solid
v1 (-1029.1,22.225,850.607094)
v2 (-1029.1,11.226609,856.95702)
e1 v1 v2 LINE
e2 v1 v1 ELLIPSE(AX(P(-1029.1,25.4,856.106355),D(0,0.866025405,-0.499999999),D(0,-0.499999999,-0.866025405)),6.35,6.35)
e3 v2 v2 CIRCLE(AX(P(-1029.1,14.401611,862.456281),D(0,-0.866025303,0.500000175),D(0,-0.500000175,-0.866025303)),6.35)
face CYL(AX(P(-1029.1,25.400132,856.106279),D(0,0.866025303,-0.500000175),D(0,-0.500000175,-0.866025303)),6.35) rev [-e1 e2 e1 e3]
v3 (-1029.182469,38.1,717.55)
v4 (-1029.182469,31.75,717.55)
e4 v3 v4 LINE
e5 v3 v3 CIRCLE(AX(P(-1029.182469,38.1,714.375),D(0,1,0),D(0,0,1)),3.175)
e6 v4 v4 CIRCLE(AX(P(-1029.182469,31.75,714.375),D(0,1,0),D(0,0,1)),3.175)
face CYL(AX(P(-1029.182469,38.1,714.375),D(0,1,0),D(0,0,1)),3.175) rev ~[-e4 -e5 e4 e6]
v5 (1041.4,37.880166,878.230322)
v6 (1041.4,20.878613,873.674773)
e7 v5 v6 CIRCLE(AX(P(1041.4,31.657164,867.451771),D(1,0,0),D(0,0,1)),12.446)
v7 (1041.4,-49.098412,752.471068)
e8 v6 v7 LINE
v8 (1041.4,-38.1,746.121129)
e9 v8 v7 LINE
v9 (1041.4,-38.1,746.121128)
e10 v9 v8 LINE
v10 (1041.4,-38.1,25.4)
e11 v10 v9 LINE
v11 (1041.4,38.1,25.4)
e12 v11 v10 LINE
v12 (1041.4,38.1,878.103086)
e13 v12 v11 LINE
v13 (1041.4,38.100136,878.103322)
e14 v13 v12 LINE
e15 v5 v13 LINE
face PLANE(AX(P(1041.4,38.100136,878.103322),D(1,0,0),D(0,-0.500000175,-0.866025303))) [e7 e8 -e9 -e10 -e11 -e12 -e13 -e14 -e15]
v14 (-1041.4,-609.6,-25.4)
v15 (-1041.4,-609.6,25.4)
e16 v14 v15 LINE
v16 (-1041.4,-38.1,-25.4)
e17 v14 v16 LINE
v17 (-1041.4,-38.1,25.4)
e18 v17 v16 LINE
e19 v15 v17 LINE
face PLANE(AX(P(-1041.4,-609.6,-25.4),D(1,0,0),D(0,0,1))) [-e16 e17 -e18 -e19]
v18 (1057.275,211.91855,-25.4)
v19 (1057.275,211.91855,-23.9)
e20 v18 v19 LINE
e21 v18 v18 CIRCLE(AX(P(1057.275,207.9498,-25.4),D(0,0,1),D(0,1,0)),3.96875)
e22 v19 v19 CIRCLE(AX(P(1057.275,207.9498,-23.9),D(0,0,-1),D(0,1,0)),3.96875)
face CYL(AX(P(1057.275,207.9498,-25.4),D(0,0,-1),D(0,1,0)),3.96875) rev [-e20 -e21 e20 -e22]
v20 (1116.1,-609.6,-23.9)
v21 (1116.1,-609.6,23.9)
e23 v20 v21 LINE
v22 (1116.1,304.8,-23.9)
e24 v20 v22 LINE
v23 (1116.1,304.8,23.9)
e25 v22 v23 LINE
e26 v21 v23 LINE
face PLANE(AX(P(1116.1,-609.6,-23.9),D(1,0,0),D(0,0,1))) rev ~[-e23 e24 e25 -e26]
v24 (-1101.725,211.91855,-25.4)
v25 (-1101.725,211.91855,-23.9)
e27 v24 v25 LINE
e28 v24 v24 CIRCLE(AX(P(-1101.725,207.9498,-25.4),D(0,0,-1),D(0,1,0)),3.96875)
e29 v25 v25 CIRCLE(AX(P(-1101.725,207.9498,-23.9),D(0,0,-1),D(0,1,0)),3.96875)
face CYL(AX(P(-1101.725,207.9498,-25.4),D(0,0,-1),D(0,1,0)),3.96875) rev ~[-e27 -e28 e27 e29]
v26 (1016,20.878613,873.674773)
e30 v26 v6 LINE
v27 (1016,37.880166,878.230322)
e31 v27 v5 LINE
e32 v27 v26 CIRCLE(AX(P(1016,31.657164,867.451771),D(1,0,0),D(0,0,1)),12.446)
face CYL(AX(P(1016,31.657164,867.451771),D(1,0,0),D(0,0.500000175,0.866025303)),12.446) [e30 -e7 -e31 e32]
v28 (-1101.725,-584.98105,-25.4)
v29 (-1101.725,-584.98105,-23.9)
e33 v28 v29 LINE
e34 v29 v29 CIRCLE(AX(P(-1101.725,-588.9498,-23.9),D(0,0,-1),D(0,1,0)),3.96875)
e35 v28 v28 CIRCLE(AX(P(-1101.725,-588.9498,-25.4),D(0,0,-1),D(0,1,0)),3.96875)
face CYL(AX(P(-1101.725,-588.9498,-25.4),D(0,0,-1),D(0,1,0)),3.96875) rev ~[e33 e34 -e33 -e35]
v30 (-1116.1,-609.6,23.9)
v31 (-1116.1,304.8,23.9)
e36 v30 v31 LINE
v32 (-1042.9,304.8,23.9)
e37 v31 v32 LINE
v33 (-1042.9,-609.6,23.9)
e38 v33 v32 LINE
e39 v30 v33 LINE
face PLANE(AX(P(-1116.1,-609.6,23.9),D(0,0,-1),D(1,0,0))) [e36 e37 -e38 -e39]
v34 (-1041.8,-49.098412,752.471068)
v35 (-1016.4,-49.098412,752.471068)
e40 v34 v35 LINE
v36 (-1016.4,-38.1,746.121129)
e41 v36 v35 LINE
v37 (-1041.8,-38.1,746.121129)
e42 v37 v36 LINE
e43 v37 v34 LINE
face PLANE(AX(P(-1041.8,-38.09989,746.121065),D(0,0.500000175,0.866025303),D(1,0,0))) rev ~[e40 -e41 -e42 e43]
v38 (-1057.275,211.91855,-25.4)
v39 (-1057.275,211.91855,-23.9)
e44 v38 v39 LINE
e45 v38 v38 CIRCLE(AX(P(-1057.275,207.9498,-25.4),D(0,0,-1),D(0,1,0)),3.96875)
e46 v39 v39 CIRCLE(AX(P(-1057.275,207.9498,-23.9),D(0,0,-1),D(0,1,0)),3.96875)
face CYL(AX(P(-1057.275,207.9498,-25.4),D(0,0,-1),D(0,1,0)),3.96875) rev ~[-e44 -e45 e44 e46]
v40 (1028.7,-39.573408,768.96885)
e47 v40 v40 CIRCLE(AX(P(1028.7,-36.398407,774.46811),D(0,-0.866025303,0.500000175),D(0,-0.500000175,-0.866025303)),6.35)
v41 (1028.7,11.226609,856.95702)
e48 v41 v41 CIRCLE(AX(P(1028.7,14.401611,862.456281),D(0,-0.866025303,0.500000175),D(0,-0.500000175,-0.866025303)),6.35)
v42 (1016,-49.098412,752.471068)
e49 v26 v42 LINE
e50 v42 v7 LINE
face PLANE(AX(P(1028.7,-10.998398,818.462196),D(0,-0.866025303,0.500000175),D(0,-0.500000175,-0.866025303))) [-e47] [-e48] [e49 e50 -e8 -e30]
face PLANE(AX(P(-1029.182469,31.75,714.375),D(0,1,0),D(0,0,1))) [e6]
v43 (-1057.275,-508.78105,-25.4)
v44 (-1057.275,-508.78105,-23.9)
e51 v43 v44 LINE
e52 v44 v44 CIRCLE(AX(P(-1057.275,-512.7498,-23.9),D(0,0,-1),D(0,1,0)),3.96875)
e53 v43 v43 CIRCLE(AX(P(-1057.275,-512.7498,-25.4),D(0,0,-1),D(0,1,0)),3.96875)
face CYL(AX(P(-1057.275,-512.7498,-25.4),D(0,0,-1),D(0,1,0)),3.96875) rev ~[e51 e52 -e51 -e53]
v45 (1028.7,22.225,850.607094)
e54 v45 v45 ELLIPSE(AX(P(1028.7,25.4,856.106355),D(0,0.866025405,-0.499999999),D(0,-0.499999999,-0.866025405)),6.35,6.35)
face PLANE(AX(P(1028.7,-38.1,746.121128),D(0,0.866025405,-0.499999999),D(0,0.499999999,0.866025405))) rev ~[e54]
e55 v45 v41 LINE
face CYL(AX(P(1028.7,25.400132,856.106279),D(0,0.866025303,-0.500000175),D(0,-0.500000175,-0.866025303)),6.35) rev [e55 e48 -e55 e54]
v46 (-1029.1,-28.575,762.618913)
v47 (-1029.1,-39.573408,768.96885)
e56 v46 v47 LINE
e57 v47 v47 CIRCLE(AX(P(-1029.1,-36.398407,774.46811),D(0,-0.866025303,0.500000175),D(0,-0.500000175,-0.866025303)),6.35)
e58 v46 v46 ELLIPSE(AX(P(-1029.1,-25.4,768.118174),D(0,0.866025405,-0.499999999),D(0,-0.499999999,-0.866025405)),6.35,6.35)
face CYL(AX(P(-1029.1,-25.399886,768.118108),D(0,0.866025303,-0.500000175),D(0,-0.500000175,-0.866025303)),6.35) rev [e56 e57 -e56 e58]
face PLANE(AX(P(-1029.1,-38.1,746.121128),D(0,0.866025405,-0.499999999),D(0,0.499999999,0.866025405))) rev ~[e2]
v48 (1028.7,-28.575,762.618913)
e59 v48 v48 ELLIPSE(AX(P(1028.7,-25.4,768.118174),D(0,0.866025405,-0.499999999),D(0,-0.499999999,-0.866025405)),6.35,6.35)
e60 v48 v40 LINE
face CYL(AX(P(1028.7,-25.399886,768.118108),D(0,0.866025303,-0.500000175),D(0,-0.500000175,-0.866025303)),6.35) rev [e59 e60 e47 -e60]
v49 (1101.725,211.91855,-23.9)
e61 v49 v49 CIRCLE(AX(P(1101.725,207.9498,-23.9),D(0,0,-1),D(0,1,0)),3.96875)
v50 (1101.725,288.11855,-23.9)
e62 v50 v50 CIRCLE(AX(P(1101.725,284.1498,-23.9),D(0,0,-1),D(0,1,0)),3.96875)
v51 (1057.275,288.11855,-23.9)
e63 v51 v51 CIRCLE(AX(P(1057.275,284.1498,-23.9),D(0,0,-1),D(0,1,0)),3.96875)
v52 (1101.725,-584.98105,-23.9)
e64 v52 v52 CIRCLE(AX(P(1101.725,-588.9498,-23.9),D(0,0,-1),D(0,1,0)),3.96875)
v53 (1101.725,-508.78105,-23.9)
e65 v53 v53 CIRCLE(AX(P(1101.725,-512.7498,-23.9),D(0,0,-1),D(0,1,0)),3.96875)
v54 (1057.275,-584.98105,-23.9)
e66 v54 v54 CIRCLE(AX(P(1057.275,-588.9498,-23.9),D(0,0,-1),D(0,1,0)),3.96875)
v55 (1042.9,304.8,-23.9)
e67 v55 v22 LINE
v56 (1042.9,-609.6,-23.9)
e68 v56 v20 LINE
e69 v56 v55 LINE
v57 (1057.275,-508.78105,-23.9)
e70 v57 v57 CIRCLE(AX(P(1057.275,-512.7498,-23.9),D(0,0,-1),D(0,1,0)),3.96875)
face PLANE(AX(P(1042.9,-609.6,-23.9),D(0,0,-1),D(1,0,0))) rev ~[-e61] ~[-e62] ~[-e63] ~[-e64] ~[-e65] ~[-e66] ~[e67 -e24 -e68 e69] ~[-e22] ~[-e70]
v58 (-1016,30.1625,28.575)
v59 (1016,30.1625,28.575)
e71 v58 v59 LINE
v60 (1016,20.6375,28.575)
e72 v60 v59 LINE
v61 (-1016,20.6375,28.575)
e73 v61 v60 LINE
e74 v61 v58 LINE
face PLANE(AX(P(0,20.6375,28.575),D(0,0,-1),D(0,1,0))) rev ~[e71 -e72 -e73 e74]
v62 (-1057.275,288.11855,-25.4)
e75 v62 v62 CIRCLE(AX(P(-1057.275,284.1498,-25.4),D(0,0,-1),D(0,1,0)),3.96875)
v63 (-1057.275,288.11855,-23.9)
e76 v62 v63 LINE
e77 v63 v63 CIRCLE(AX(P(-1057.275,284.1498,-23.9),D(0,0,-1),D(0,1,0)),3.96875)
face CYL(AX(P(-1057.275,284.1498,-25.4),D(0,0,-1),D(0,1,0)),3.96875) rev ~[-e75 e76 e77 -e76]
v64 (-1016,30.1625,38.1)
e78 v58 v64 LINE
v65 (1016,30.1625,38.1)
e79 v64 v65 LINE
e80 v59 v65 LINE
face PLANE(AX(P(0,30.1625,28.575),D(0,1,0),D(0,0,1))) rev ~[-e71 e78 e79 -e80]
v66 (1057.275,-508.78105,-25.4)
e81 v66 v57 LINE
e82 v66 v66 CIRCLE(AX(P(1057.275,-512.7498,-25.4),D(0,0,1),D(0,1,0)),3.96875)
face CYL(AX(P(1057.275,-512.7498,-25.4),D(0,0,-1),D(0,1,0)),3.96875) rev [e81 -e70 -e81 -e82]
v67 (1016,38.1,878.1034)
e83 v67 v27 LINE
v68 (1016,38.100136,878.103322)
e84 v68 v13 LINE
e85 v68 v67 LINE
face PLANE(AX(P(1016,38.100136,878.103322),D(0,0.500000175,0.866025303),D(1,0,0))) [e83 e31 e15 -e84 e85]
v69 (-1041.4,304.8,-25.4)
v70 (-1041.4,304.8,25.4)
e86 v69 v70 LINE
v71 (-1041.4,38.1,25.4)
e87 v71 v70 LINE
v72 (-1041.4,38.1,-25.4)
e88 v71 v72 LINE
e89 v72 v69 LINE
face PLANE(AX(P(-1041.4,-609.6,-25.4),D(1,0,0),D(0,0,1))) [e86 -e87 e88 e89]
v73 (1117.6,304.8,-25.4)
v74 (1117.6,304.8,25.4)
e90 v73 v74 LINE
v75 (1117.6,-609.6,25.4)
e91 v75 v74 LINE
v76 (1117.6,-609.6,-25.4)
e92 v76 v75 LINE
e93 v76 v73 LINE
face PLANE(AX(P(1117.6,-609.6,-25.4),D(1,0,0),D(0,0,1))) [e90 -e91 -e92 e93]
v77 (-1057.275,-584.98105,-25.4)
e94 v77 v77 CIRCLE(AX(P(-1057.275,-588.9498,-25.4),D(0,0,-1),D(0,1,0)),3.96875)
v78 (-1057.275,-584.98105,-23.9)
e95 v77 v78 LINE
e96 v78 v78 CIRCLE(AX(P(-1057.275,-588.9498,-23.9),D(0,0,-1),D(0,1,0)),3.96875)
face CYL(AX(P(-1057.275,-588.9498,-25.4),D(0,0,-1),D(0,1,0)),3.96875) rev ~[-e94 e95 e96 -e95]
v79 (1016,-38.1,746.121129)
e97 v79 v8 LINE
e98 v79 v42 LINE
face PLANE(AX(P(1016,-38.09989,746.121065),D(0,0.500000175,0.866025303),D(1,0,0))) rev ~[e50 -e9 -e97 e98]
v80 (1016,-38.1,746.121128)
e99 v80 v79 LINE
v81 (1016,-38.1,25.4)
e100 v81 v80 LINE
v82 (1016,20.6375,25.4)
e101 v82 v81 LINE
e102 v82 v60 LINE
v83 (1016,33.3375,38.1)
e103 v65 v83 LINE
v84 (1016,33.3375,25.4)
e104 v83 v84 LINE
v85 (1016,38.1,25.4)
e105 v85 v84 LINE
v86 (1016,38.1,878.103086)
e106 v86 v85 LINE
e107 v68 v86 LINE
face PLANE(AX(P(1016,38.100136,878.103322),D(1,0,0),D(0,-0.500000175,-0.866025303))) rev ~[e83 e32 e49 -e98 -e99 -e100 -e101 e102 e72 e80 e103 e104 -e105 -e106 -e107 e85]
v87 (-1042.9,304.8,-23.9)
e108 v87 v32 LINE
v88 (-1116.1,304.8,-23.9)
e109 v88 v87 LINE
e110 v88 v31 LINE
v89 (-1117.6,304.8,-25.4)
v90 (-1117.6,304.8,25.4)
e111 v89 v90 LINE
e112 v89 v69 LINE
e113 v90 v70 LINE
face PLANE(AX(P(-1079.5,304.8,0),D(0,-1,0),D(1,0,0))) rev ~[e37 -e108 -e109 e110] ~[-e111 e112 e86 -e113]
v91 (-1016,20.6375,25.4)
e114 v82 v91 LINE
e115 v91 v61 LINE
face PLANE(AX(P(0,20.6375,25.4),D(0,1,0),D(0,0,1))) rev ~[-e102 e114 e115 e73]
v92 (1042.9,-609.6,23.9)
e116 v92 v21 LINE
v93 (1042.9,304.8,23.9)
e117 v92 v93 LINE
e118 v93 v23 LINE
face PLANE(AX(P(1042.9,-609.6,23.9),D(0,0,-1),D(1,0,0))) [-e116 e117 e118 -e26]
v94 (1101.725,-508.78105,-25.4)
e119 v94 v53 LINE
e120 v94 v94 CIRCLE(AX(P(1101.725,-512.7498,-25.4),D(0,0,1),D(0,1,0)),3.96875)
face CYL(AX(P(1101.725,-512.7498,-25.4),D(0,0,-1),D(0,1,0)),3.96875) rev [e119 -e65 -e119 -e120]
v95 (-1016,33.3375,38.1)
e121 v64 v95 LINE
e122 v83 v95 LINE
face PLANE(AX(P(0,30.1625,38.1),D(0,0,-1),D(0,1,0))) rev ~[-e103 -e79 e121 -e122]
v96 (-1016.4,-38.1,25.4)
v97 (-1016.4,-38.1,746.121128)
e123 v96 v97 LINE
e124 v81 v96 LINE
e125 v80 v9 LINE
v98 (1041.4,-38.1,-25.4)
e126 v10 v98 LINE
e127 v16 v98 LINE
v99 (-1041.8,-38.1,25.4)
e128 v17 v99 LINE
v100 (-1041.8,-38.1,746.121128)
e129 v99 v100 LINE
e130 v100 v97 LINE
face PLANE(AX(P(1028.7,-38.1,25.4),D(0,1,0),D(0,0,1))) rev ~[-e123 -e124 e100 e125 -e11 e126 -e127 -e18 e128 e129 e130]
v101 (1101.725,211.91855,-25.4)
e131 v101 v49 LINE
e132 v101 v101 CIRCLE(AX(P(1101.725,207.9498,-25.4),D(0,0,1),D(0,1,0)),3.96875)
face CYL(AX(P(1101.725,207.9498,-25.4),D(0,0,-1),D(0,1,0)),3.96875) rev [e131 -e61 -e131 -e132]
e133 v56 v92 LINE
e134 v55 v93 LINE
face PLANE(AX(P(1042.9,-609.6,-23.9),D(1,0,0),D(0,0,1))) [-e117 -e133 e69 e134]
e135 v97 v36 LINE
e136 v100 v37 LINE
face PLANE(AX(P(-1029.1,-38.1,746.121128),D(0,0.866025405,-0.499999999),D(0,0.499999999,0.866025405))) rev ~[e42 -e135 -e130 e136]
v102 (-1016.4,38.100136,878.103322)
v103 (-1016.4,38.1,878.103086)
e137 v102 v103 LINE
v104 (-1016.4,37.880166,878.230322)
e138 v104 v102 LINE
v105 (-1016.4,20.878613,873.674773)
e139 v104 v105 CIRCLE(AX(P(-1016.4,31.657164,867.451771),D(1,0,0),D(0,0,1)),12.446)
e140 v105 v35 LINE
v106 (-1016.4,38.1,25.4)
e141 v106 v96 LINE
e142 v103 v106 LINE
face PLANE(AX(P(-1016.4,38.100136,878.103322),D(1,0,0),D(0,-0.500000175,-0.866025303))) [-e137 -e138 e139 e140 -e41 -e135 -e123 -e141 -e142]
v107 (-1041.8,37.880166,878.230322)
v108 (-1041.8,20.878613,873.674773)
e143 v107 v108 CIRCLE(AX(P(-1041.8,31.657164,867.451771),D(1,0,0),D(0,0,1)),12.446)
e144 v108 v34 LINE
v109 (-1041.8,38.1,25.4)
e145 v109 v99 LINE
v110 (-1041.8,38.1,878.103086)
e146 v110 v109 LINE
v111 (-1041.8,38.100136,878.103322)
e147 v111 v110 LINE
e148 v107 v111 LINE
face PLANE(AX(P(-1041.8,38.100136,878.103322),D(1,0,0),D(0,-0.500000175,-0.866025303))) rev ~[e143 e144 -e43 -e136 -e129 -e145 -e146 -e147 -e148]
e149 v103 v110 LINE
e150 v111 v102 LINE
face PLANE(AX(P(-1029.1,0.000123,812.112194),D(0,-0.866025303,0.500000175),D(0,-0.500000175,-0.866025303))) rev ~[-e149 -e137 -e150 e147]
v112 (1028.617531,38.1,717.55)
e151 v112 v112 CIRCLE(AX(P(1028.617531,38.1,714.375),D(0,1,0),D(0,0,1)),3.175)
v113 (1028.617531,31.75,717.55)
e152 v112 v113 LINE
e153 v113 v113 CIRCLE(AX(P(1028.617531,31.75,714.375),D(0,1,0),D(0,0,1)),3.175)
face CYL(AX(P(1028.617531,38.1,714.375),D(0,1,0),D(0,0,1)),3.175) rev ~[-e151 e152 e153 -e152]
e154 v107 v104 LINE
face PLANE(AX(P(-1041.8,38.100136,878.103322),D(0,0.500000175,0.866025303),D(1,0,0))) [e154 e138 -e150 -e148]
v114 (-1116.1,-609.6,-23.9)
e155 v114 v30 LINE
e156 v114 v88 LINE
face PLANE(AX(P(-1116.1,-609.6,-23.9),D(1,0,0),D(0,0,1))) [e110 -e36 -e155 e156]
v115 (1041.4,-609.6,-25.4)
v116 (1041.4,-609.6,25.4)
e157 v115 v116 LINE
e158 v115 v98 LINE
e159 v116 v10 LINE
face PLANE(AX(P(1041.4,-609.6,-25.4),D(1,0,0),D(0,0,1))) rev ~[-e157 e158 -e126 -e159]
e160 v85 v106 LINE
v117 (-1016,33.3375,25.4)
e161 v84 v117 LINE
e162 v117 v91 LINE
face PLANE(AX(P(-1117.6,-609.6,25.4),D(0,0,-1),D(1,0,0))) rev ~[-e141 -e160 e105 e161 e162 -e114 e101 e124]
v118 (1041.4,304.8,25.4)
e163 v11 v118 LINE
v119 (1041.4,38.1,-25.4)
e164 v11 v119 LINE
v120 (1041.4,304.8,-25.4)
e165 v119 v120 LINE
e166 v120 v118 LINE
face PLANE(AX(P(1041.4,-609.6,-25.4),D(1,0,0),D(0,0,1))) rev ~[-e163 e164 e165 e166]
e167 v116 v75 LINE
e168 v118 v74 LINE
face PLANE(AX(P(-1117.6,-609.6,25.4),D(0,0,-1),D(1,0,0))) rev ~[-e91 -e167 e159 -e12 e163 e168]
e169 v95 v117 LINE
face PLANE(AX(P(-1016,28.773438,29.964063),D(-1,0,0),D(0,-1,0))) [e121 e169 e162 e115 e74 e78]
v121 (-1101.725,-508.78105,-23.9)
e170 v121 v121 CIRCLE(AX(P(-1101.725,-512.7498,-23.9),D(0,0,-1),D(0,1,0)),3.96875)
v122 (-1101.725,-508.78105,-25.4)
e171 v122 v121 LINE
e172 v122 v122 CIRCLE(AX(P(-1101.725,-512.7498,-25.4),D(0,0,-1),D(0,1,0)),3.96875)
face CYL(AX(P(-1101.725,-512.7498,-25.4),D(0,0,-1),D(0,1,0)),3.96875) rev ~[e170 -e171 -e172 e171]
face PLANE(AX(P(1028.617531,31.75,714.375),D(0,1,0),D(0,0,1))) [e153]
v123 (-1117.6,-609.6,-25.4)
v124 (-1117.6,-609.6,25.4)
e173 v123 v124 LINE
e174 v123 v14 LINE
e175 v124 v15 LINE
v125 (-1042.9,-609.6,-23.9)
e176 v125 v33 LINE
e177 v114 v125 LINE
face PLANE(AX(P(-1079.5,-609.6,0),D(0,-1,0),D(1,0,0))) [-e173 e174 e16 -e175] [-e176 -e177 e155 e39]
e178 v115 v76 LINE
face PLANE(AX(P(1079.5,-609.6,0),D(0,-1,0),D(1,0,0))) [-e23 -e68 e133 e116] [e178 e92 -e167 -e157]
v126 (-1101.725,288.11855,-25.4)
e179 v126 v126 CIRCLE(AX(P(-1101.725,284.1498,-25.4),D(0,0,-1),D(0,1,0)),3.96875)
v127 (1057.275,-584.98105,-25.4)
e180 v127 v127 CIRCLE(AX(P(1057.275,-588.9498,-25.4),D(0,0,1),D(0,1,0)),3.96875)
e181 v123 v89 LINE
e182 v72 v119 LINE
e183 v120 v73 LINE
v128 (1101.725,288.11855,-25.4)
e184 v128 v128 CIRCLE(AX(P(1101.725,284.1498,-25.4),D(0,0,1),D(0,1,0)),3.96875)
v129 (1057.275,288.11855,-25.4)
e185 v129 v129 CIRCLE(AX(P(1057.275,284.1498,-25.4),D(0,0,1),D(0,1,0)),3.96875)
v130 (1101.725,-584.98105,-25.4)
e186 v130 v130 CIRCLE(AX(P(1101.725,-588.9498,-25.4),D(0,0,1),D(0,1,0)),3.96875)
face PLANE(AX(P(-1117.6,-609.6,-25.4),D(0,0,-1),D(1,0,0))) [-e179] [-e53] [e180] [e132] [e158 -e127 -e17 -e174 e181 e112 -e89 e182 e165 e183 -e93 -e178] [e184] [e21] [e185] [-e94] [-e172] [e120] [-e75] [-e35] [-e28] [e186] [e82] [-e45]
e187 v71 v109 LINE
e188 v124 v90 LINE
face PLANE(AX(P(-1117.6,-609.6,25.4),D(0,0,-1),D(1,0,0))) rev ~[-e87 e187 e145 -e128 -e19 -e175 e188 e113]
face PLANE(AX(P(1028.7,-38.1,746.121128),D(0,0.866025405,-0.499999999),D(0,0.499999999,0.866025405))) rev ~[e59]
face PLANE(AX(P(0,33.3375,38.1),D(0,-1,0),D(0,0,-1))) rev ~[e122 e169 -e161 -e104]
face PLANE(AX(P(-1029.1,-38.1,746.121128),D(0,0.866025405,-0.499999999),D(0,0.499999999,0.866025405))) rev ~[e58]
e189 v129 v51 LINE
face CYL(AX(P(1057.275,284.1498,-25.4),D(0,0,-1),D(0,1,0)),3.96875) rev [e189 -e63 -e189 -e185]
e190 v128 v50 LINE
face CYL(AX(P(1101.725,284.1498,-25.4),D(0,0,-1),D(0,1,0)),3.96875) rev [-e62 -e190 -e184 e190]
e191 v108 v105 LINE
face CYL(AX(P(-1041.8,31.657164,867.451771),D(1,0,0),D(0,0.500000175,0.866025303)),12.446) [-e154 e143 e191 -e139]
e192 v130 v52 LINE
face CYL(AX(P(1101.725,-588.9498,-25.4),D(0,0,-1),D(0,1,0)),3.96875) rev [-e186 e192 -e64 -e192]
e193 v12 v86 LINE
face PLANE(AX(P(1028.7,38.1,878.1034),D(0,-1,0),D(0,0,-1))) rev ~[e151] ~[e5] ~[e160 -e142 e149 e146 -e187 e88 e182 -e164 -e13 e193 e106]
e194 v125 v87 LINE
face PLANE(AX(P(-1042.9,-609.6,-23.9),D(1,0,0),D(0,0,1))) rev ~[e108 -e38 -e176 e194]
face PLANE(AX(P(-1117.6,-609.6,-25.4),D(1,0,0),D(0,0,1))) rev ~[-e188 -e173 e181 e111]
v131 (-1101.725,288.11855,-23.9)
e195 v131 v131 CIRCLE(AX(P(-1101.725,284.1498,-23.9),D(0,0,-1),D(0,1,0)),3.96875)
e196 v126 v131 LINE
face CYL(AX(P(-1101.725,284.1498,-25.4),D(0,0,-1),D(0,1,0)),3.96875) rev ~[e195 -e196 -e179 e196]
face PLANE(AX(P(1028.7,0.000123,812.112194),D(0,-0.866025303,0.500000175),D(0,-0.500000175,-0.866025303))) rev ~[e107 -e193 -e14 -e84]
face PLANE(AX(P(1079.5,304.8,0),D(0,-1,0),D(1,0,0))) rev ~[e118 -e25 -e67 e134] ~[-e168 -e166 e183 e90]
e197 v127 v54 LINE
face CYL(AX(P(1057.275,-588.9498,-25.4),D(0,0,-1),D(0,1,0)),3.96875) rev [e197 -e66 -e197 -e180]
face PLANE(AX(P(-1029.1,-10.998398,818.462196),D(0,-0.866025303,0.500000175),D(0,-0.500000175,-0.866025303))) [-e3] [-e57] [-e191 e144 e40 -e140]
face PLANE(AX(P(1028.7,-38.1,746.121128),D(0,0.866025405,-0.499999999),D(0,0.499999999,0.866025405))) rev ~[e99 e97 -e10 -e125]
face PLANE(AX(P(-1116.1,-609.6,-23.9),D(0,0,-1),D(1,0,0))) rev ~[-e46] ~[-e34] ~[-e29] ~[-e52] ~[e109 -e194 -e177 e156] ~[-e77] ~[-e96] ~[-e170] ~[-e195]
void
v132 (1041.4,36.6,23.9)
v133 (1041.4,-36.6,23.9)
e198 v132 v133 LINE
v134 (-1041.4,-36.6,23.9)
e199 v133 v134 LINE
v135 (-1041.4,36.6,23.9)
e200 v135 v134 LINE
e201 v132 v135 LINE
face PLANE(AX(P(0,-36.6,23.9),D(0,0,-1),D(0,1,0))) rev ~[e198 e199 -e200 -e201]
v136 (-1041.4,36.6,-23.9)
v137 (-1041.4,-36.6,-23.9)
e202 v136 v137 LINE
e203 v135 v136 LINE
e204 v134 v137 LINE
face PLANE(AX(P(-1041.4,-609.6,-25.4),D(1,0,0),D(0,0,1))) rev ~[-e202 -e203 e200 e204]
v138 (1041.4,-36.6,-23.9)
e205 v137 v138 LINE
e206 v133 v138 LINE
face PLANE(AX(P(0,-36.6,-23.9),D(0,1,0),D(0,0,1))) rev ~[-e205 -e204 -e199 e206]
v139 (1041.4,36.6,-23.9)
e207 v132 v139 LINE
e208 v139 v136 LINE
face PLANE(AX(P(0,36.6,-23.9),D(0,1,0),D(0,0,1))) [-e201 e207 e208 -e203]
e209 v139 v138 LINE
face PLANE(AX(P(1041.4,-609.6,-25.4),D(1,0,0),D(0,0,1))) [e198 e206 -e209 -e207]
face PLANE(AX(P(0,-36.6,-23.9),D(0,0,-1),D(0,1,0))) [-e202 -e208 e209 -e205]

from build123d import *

# Parameters (mm, degrees)
PAD002_DEPTH    = 12.7
SKETCH003_W     = 152.4
SKETCH003_H     = 25.4
SKETCH003_R     = 6.35
PAD003_DEPTH    = 12.7
SKETCH006_R     = 3.175
POCKET001_DEPTH = 6.35
FILLET_R        = 12.446
SKETCH_W        = 76.2
SKETCH_H        = 50.8
SKETCH_W_2      = 73.2
SKETCH_H_2      = 47.8
PAD_DEPTH       = 1042.67
SKETCH001_W     = 76.2
SKETCH001_H     = 50.8
SKETCH001_W_2   = 73.2
SKETCH001_H_2   = 47.8
PAD001_DEPTH    = 914.4
SKETCH004_R     = 3.96875
POCKET_DEPTH    = 6.35
PAD004_DEPTH    = 1016


with BuildPart() as frameupright:
    # Sketch002 → Pad002 (new body, symmetric)
    with BuildSketch(Plane.YZ):
        Polygon((38.1, 878.1034), (38.1, 25.4), (-38.1, 25.4), (-38.1, 746.121128), align=None)
    extrude(amount=PAD002_DEPTH, both=True)

    # Sketch003 (on Face4 of Pad002) → Pad003 (join)
    with BuildSketch(Plane(origin=(0, -351.654926, 203.028066), x_dir=(0, -0.5, -0.866025), z_dir=(0, -0.866025, 0.5))):
        with Locations((-703.309852, 0)):
            Rectangle(SKETCH003_W, SKETCH003_H)
        with Locations((-754.109852, 0)):
            Circle(SKETCH003_R, mode=Mode.SUBTRACT)
        with Locations((-652.509852, 0)):
            Circle(SKETCH003_R, mode=Mode.SUBTRACT)
    extrude(amount=PAD003_DEPTH)

    # Sketch006 (on Face1 of Pad003) → Pocket001 (cut)
    with BuildSketch(Plane.ZX.offset(38.1)):
        with Locations((714.375, -0.082469)):
            Circle(SKETCH006_R)
    extrude(amount=-POCKET001_DEPTH, mode=Mode.SUBTRACT)

    # Fillet
    fillet_edges = [frameupright.edges().sort_by_distance(p)[0] for p in [
        (0, 27.101477, 884.4534),
    ]]
    fillet(fillet_edges, radius=FILLET_R)


with BuildPart() as frameupright_1:
    # Body001 placement: moved
    add(frameupright.part.moved(Location((-1029.1, 0, 0))))


with BuildPart() as frameupright001:
    # Link base: copy of FrameUpright
    add(frameupright_1.part)


with BuildPart() as frameupright001_1:
    # Link placement: moved
    add(frameupright001.part.moved(Location((2057.8, 0, 0))))


with BuildPart() as fusion:
    # Sketch → Pad (new body, symmetric)
    with BuildSketch(Plane.YZ):
        Rectangle(SKETCH_W, SKETCH_H)
        Rectangle(SKETCH_W_2, SKETCH_H_2, mode=Mode.SUBTRACT)
    extrude(amount=PAD_DEPTH, both=True)

    # Sketch001 (on DatumPlane) → Pad001 (join)
    with BuildSketch(Plane(origin=(-1079.5, -609.6, 0), x_dir=(1, 0, 0), z_dir=(0, -1, 0))):
        Rectangle(SKETCH001_W, SKETCH001_H)
        Rectangle(SKETCH001_W_2, SKETCH001_H_2, mode=Mode.SUBTRACT)
        with Locations((2159, 0)):
            Rectangle(SKETCH001_W, SKETCH001_H)
        with Locations((2159, 0)):
            Rectangle(SKETCH001_W_2, SKETCH001_H_2, mode=Mode.SUBTRACT)
    extrude(amount=-PAD001_DEPTH)

    # Sketch004 (on Face12 of Pad001) → Pocket (cut)
    with BuildSketch(Plane.YX.offset(25.4)):
        with Locations((-588.9498, -1057.275)):
            Circle(SKETCH004_R)
        with Locations((-512.7498, -1057.275)):
            Circle(SKETCH004_R)
        with Locations((-588.9498, -1101.725)):
            Circle(SKETCH004_R)
        with Locations((-512.7498, -1101.725)):
            Circle(SKETCH004_R)
        with Locations((207.9498, -1057.275)):
            Circle(SKETCH004_R)
        with Locations((207.9498, -1101.725)):
            Circle(SKETCH004_R)
        with Locations((284.1498, -1057.275)):
            Circle(SKETCH004_R)
        with Locations((284.1498, -1101.725)):
            Circle(SKETCH004_R)
    pocket = extrude(amount=-POCKET_DEPTH, mode=Mode.SUBTRACT)

    # Mirrored: Pocket across Sketch004 H_Axis
    add(pocket.mirror(Plane(origin=(0, 0, -25.4), x_dir=(0, 0, -1), z_dir=(1, 0, 0))), mode=Mode.SUBTRACT)

    # Sketch005 → Pad004 (join, symmetric)
    with BuildSketch(Plane.YZ):
        Polygon((30.1625, 38.1), (33.3375, 38.1), (33.3375, 25.4), (20.6375, 25.4), (20.6375, 28.575), (30.1625, 28.575), align=None)
    extrude(amount=PAD004_DEPTH, both=True)

    # Fusion: union FrameUpright, FrameUpright001
    add(frameupright_1.part)
    add(frameupright001_1.part)


solid = fusion.part
